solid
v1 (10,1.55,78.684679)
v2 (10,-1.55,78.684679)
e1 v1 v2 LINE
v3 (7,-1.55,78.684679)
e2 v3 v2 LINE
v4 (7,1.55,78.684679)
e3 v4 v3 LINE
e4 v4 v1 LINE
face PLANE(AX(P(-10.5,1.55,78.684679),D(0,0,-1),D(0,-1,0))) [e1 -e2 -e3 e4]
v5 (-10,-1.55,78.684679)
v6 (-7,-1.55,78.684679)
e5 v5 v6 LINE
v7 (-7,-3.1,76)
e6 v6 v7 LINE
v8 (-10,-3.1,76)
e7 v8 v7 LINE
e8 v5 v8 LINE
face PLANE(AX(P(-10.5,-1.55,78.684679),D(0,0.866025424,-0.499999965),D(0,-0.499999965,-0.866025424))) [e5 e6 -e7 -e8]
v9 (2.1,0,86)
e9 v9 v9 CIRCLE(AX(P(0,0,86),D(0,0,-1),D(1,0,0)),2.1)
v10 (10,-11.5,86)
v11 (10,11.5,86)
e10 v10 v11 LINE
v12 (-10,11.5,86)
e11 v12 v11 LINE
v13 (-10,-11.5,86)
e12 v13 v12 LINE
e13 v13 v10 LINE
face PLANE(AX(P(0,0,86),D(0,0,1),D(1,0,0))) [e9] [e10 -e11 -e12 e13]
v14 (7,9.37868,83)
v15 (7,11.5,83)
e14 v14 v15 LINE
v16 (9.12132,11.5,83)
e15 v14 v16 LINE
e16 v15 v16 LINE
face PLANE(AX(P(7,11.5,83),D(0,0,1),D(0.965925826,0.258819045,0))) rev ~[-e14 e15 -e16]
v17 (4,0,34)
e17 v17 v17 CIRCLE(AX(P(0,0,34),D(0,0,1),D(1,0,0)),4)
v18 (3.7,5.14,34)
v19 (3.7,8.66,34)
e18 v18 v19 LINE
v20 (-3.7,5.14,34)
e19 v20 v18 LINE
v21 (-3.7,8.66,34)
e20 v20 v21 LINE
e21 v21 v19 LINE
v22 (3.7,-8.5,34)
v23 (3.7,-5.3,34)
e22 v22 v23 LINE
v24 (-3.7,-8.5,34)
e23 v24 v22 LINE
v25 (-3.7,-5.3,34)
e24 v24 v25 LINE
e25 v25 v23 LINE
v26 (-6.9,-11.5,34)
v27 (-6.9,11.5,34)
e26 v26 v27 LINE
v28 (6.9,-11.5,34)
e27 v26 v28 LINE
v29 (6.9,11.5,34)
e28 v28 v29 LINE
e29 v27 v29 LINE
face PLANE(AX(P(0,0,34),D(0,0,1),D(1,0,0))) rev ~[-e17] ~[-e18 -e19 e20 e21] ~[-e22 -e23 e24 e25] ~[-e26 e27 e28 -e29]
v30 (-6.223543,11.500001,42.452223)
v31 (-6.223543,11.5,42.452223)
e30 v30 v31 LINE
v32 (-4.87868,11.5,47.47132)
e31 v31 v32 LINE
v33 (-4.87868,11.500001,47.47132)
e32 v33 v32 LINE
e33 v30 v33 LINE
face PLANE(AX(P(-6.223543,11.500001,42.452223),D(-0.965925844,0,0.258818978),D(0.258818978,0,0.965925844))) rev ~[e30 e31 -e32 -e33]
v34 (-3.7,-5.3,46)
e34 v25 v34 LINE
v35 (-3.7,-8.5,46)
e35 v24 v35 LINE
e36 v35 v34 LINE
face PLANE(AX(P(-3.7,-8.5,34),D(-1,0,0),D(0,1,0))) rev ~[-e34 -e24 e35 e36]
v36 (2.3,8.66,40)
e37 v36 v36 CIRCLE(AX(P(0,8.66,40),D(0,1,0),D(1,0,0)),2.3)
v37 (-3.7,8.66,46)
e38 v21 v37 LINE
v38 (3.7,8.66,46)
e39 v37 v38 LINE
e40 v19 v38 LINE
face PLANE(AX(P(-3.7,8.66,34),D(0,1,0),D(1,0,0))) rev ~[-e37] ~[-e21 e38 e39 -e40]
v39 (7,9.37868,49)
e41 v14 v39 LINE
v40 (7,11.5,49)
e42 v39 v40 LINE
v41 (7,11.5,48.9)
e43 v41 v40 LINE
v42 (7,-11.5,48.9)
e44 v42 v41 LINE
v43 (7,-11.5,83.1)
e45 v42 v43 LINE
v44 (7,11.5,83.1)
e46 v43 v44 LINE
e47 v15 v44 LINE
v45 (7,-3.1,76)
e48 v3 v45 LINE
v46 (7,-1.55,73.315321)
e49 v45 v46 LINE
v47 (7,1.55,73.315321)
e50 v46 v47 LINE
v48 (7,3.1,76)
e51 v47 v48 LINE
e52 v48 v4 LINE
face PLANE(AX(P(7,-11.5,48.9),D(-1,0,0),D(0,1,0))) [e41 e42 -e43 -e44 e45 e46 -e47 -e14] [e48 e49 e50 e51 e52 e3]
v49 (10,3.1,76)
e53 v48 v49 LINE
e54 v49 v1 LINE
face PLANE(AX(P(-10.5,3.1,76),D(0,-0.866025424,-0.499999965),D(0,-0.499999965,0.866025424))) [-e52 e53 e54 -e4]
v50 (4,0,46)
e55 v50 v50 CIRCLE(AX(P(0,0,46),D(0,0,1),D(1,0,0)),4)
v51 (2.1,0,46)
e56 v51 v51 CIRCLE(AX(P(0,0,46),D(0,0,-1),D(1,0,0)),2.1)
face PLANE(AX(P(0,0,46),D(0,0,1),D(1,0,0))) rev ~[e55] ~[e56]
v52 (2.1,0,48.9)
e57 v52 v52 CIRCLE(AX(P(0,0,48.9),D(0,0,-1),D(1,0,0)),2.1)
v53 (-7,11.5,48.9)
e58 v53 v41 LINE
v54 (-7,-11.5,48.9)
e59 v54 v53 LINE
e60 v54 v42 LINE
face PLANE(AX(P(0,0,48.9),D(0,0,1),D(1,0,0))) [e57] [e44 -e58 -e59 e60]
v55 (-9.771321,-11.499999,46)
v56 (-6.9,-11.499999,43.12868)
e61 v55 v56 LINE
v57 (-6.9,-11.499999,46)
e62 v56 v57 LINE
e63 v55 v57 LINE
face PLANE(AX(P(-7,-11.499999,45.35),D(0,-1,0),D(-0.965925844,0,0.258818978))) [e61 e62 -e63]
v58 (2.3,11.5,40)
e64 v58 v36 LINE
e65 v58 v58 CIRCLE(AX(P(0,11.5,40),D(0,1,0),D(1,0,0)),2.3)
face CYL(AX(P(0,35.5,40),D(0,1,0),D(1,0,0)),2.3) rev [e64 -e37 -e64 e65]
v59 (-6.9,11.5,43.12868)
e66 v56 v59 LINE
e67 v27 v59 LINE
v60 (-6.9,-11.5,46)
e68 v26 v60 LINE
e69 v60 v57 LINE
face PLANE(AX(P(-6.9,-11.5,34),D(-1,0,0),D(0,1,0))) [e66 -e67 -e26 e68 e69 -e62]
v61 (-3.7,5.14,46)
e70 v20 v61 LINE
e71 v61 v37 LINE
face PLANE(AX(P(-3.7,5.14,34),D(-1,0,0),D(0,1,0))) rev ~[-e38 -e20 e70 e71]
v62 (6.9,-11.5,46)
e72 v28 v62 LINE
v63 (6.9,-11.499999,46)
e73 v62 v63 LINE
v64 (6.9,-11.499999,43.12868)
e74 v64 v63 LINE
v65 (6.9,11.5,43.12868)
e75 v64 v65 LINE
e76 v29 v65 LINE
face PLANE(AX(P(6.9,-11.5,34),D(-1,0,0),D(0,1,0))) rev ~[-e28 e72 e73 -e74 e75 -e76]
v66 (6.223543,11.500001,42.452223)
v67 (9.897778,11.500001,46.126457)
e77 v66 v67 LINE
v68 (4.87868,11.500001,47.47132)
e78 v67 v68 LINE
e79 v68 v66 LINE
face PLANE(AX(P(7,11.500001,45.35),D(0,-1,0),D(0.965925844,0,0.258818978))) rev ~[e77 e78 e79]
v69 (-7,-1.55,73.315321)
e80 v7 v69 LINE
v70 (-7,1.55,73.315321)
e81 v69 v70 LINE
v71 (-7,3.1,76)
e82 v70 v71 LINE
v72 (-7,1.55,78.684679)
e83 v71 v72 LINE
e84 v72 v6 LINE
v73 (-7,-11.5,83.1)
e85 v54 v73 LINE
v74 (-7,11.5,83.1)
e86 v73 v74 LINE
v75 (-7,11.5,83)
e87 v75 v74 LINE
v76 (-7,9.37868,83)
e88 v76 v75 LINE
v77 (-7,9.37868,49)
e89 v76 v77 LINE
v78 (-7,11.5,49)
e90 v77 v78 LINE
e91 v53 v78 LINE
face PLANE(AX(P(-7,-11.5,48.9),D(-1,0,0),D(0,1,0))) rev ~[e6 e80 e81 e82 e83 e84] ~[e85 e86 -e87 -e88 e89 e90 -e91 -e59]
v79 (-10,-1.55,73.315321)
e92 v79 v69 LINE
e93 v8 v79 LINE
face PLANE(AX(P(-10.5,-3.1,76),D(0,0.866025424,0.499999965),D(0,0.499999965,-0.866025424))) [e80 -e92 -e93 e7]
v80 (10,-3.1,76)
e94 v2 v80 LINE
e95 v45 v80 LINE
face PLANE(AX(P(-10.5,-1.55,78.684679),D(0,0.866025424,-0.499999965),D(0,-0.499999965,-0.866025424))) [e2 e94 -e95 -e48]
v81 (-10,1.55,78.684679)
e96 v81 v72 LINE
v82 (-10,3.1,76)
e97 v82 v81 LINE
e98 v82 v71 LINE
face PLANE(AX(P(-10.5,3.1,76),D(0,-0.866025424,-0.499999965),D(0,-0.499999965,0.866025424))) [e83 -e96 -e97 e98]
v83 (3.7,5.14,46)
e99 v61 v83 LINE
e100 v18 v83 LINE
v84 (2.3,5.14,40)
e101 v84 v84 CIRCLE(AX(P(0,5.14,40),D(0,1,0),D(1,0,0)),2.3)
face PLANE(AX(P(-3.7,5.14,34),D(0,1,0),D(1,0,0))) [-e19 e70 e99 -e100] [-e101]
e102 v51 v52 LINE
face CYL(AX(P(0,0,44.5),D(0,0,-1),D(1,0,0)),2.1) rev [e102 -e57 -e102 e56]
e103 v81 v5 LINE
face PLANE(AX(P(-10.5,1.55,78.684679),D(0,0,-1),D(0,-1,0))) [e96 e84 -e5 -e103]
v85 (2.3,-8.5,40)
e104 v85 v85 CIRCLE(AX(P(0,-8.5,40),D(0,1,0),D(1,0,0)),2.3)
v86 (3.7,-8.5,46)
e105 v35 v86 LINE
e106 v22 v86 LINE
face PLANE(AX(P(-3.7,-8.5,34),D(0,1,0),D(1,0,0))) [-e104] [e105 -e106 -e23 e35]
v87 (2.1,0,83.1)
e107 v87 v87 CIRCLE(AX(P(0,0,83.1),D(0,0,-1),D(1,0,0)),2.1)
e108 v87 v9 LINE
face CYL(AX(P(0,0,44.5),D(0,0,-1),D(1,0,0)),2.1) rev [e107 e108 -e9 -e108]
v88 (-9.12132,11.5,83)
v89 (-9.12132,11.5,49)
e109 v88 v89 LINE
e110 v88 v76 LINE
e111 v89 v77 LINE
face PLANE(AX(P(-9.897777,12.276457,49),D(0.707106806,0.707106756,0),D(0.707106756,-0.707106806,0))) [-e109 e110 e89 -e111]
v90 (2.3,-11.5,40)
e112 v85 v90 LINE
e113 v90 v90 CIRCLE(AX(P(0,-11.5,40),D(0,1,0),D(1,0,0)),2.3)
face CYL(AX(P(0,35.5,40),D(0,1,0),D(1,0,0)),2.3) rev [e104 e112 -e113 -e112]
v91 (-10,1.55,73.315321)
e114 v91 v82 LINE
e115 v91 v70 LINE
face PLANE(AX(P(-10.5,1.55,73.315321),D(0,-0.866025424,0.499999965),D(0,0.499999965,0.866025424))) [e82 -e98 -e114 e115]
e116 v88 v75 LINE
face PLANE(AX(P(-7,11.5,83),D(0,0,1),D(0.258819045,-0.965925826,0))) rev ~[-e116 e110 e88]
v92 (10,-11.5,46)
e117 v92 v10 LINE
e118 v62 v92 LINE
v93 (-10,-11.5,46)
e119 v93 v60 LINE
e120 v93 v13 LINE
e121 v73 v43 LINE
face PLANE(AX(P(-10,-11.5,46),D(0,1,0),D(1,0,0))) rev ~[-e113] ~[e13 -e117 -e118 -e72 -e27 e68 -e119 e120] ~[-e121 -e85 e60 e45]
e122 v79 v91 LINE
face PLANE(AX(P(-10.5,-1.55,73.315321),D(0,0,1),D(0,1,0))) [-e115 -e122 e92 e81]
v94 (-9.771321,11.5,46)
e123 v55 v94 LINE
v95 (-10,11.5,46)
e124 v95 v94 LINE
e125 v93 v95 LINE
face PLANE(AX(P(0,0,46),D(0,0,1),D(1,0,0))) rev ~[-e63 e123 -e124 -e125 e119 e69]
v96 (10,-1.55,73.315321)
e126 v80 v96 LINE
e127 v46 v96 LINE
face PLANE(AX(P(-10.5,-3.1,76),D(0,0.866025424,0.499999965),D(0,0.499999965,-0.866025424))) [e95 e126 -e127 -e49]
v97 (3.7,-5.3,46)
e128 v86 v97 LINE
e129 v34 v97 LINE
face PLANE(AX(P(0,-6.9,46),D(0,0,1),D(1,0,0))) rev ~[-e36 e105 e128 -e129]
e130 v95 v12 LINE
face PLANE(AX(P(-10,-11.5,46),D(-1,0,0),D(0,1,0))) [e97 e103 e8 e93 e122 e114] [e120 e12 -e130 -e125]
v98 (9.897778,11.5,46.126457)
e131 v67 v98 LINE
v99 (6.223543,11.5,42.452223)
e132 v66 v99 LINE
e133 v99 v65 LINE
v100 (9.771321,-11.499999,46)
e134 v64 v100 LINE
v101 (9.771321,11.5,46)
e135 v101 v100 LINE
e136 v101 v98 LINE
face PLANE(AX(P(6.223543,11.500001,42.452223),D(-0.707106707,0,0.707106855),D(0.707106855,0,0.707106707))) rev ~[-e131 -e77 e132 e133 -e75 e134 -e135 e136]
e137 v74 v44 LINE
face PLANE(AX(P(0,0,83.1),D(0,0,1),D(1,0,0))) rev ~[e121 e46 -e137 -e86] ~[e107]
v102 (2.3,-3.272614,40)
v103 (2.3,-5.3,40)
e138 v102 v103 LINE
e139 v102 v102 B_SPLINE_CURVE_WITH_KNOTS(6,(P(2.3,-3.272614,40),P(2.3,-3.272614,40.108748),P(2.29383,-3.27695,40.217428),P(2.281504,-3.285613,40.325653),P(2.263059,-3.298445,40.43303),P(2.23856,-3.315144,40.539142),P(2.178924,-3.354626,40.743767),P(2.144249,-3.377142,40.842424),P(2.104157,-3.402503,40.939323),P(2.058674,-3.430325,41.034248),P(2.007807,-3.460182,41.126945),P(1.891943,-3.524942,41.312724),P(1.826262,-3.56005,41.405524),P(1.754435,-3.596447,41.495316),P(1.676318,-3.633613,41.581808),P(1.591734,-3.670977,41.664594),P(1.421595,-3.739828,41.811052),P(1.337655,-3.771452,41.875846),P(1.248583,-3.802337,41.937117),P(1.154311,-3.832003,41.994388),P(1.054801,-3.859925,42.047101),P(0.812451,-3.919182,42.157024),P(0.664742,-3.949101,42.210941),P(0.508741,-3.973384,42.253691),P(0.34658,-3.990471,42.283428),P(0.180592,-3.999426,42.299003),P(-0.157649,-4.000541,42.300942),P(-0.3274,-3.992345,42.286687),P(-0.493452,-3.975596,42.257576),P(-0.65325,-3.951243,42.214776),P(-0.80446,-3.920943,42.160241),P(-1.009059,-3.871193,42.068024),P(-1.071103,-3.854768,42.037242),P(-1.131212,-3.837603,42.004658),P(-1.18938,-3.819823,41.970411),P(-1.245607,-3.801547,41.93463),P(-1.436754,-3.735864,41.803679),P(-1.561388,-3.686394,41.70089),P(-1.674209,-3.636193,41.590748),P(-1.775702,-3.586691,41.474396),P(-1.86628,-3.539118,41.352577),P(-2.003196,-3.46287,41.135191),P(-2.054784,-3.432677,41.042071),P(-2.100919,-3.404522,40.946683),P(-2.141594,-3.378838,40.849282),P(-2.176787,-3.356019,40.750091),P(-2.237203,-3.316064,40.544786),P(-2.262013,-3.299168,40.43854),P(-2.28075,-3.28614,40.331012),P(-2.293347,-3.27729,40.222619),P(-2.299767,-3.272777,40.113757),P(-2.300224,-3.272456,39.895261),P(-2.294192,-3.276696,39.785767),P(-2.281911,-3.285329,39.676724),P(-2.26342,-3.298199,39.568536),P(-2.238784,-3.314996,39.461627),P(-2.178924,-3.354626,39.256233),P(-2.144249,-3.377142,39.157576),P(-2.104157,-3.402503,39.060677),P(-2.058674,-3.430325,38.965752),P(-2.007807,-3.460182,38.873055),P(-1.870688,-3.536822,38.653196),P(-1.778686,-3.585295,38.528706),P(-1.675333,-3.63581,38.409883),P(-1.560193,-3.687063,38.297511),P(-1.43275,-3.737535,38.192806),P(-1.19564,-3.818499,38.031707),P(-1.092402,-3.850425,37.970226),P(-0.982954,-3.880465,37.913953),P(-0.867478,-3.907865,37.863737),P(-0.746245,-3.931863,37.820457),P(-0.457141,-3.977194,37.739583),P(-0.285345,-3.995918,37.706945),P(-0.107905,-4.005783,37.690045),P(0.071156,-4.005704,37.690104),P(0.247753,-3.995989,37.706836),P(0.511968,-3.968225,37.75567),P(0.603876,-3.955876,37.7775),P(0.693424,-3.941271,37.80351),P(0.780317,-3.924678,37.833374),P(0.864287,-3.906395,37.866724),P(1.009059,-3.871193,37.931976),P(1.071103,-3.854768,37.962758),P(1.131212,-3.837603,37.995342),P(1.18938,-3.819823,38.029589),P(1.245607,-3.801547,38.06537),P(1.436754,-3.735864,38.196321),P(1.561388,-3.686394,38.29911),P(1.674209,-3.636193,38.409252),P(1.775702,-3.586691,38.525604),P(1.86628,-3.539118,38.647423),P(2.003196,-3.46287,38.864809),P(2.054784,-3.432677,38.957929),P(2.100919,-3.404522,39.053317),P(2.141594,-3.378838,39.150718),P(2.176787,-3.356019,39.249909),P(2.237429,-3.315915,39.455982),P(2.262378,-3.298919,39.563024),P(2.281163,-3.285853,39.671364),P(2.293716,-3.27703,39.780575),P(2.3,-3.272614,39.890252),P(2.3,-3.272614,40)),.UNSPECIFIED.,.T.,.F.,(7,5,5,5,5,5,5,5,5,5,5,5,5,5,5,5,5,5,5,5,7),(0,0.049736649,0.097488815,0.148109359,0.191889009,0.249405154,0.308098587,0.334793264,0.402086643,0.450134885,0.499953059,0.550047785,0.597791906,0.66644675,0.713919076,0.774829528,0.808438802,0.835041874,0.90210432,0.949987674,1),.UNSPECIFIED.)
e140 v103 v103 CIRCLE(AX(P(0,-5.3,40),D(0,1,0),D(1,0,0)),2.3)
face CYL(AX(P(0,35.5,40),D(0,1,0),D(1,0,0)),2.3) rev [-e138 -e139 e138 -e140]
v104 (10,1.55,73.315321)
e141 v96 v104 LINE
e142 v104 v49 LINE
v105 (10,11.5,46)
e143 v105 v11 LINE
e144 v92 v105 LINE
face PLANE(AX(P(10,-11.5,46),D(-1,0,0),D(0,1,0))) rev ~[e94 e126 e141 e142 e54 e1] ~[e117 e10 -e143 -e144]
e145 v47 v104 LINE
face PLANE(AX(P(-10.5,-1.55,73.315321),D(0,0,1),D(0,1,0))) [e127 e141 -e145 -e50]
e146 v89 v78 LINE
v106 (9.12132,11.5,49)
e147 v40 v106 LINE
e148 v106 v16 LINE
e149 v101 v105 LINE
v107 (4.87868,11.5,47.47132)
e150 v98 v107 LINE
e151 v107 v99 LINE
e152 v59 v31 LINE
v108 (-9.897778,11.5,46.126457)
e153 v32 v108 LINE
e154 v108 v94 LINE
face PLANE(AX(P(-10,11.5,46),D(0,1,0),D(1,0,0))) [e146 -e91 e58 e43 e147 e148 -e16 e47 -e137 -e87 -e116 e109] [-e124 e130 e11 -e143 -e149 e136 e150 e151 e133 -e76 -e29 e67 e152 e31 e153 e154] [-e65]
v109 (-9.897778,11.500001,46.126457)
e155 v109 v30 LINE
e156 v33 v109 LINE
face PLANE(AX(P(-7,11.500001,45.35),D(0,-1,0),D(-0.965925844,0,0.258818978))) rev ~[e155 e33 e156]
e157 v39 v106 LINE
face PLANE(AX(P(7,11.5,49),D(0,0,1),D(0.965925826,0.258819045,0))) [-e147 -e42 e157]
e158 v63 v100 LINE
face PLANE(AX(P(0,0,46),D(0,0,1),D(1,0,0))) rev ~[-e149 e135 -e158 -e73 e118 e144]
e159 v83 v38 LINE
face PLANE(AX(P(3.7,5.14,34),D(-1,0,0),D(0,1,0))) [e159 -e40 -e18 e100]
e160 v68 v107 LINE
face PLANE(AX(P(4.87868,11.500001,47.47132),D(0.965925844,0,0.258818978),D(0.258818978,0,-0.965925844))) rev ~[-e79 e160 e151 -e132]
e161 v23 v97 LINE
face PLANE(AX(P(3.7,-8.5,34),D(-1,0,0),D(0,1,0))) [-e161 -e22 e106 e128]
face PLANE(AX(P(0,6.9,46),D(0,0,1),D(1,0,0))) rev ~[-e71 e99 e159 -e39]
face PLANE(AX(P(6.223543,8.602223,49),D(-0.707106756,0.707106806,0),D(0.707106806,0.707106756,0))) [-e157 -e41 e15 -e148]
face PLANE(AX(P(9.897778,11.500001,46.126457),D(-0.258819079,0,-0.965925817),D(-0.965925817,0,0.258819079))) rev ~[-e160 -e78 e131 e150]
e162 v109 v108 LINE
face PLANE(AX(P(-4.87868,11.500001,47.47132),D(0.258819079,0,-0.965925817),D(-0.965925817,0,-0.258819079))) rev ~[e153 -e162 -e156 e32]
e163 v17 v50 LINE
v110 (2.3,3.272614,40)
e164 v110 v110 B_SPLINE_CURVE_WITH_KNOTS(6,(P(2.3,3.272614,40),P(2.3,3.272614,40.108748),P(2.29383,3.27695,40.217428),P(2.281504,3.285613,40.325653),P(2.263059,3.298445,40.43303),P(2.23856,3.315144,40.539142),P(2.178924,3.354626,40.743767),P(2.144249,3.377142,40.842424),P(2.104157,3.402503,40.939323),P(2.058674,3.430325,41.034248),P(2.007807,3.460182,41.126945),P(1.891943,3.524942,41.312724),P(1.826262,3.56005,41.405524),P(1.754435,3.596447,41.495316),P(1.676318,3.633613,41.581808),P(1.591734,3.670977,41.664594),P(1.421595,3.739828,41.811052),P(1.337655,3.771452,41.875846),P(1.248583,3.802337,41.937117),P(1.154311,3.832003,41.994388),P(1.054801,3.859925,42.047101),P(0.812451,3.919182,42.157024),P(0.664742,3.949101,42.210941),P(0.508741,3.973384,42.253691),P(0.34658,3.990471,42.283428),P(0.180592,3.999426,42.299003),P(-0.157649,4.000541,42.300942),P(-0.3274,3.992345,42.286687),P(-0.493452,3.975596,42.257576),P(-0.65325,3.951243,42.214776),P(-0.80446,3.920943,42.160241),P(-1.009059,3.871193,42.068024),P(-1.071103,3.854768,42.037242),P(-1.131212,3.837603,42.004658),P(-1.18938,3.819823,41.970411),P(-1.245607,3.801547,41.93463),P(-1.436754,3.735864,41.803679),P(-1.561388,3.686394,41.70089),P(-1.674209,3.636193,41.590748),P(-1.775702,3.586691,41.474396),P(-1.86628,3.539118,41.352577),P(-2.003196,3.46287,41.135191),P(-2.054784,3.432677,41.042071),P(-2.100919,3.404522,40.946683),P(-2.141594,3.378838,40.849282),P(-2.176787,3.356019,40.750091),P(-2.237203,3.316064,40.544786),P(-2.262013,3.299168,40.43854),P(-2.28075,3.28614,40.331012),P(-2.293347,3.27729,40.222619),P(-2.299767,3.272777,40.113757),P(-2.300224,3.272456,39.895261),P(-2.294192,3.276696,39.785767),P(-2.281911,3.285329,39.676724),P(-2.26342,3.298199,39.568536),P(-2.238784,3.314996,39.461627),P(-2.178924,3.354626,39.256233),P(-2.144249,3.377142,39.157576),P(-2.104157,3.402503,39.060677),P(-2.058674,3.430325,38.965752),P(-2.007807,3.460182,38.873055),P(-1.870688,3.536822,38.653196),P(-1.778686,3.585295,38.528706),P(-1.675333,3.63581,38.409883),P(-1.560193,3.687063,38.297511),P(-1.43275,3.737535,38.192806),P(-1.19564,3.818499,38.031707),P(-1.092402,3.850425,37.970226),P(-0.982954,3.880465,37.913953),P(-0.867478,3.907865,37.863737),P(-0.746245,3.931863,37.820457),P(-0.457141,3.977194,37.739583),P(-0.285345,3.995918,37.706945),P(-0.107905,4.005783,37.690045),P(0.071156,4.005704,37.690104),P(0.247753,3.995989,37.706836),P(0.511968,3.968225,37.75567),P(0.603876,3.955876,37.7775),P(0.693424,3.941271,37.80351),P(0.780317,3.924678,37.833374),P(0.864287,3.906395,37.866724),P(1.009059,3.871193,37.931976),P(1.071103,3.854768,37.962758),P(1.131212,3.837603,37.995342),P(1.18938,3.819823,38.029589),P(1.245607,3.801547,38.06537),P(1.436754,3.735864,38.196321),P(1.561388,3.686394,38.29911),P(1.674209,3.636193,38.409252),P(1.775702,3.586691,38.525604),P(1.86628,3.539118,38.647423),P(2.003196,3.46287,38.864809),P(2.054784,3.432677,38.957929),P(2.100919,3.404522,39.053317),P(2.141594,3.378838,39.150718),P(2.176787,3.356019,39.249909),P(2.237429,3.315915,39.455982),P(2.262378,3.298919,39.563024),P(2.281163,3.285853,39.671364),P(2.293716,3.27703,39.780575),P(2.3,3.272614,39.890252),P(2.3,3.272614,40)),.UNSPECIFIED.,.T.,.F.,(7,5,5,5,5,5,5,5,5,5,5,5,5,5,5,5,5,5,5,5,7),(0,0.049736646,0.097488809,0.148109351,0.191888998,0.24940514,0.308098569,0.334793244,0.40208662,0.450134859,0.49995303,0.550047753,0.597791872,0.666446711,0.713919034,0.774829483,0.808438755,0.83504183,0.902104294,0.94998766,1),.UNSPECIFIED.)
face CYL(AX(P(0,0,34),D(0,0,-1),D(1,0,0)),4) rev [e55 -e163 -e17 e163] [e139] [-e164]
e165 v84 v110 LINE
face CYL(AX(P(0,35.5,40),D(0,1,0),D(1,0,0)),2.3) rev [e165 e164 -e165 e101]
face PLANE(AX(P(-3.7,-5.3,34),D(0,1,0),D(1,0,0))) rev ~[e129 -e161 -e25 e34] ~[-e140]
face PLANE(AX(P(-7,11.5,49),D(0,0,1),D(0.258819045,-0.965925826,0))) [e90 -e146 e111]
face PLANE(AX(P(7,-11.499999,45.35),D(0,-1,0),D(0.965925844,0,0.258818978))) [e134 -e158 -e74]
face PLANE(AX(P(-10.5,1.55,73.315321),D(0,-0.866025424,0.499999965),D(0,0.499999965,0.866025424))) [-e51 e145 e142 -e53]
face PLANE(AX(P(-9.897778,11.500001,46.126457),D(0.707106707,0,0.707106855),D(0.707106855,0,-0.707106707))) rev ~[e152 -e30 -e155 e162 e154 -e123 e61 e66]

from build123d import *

# Parameters (mm, degrees)
CYLINDER010_R            = 2.1
CYLINDER010_DEPTH        = 43
CYLINDER011_R            = 4
CYLINDER011_DEPTH        = 12
CYLINDER012_R            = 2.3
CYLINDER012_DEPTH        = 71
CUBE018_W                = 7.4
CUBE018_H                = 3.2
CUBE018_DEPTH            = 12
CUBE019_W                = 7.4
CUBE019_H                = 3.52
CUBE019_DEPTH            = 12
PRISM011_DEPTH           = 34
PRISM011_PLACEMENT_ANGLE = 15
PRISM012_DEPTH           = 34
PRISM012_PLACEMENT_ANGLE = 75
PRISM013_DEPTH           = 21
CUBE017_W                = 14
CUBE017_H                = 23
CUBE017_DEPTH            = 34.2
CUBE016_W                = 13.8
CUBE016_H                = 23
CUBE016_DEPTH            = 12
PRISM009_DEPTH           = 23
PRISM009_ROLL_ANGLE      = 90
PRISM009_PITCH_ANGLE     = -14.999996
PRISM010_DEPTH           = 23
PRISM010_ROLL_ANGLE      = -90
PRISM010_PITCH_ANGLE     = -14.999996
PRISM010_PLACEMENT_ANGLE = -180
CUBE015_W                = 20
CUBE015_H                = 23
CUBE015_DEPTH            = 40


with BuildPart() as cylinder010:
    # cylinder010 → cylinder010 (new body)
    with BuildSketch(Plane.XY.offset(44.5)):
        Circle(CYLINDER010_R)
    extrude(amount=CYLINDER010_DEPTH)


with BuildPart() as cylinder011:
    # cylinder011 → cylinder011 (new body)
    with BuildSketch(Plane.XY.offset(34)):
        Circle(CYLINDER011_R)
    extrude(amount=CYLINDER011_DEPTH)


with BuildPart() as cylinder012:
    # cylinder012 → cylinder012 (new body)
    with BuildSketch(Plane(origin=(0, 35.5, 40), x_dir=(1, 0, 0), z_dir=(0, -1, 0))):
        Circle(CYLINDER012_R)
    extrude(amount=CYLINDER012_DEPTH)


with BuildPart() as cube018:
    # cube018 → cube018 (new body)
    with BuildSketch(Plane(origin=(-3.7, -8.5, 34), x_dir=(1, 0, 0), z_dir=(0, 0, 1))):
        with Locations((3.7, 1.6)):
            Rectangle(CUBE018_W, CUBE018_H)
    extrude(amount=CUBE018_DEPTH)


with BuildPart() as cube019:
    # cube019 → cube019 (new body)
    with BuildSketch(Plane(origin=(-3.7, 5.14, 34), x_dir=(1, 0, 0), z_dir=(0, 0, 1))):
        with Locations((3.7, 1.76)):
            Rectangle(CUBE019_W, CUBE019_H)
    extrude(amount=CUBE019_DEPTH)


with BuildPart() as prism011:
    # prism011 → prism011 (new body)
    with BuildSketch(Plane.XY):
        Polygon((3, 0), (-1.5, 2.598076), (-1.5, -2.598076), align=None)
    extrude(amount=PRISM011_DEPTH)


with BuildPart() as prism011_1:
    # prism011 placement: moved
    add(prism011.part.moved(Location((7, 11.5, 49))).rotate(Axis((7, 11.5, 49), (0, 0, 1)), PRISM011_PLACEMENT_ANGLE))


with BuildPart() as prism012:
    # prism012 → prism012 (new body)
    with BuildSketch(Plane.XY):
        Polygon((3, 0), (-1.5, 2.598076), (-1.5, -2.598076), align=None)
    extrude(amount=PRISM012_DEPTH)


with BuildPart() as prism012_1:
    # prism012 placement: moved
    add(prism012.part.moved(Location((-7, 11.5, 49))).rotate(Axis((-7, 11.5, 49), (0, 0, -1)), PRISM012_PLACEMENT_ANGLE))


with BuildPart() as prism013:
    # prism013 → prism013 (new body)
    with BuildSketch(Plane(origin=(-10.5, 0, 76), x_dir=(0, 1, 0), z_dir=(1, 0, 0))):
        Polygon((3.1, 0), (1.55, 2.684679), (-1.55, 2.684679), (-3.1, 0), (-1.55, -2.684679), (1.55, -2.684679), align=None)
    extrude(amount=PRISM013_DEPTH)


with BuildPart() as group007:
    # cube017 → cube017 (new body)
    with BuildSketch(Plane(origin=(-7, -11.5, 48.9), x_dir=(1, 0, 0), z_dir=(0, 0, 1))):
        with Locations((7, 11.5)):
            Rectangle(CUBE017_W, CUBE017_H)
    extrude(amount=CUBE017_DEPTH)

    # Group007: union cylinder010, cylinder011, cylinder012, cube018, cube019, prism011, prism012, prism013
    add(cylinder010.part)
    add(cylinder011.part)
    add(cylinder012.part)
    add(cube018.part)
    add(cube019.part)
    add(prism011_1.part)
    add(prism012_1.part)
    add(prism013.part)


with BuildPart() as cube016:
    # cube016 → cube016 (new body)
    with BuildSketch(Plane(origin=(-6.9, -11.5, 34), x_dir=(1, 0, 0), z_dir=(0, 0, 1))):
        with Locations((6.9, 11.5)):
            Rectangle(CUBE016_W, CUBE016_H)
    extrude(amount=CUBE016_DEPTH)


with BuildPart() as prism009:
    # prism009 → prism009 (new body)
    with BuildSketch(Plane.XY):
        Polygon((3, 0), (-1.5, 2.598076), (-1.5, -2.598076), align=None)
    extrude(amount=PRISM009_DEPTH)


with BuildPart() as prism009_1:
    # prism009 roll: moved
    add(prism009.part.rotate(Axis((0, 0, 0), (1, 0, 0)), PRISM009_ROLL_ANGLE))


with BuildPart() as prism009_2:
    # prism009 pitch: moved
    add(prism009_1.part.rotate(Axis((0, 0, 0), (0, 1, 0)), PRISM009_PITCH_ANGLE))


with BuildPart() as prism009_3:
    # prism009 placement: moved
    add(prism009_2.part.moved(Location((7, 11.500001, 45.35))))


with BuildPart() as prism010:
    # prism010 → prism010 (new body)
    with BuildSketch(Plane.XY):
        Polygon((3, 0), (-1.5, 2.598076), (-1.5, -2.598076), align=None)
    extrude(amount=PRISM010_DEPTH)


with BuildPart() as prism010_1:
    # prism010 roll: moved
    add(prism010.part.rotate(Axis((0, 0, 0), (1, 0, 0)), PRISM010_ROLL_ANGLE))


with BuildPart() as prism010_2:
    # prism010 pitch: moved
    add(prism010_1.part.rotate(Axis((0, 0, 0), (0, 1, 0)), PRISM010_PITCH_ANGLE))


with BuildPart() as prism010_3:
    # prism010 placement: moved
    add(prism010_2.part.moved(Location((-7, 11.500001, 45.35))).rotate(Axis((-7, 11.500001, 45.35), (0, 0, 1)), PRISM010_PLACEMENT_ANGLE))


with BuildPart() as side_slider:
    # cube015 → cube015 (new body)
    with BuildSketch(Plane(origin=(-10, -11.5, 46), x_dir=(1, 0, 0), z_dir=(0, 0, 1))):
        with Locations((10, 11.5)):
            Rectangle(CUBE015_W, CUBE015_H)
    extrude(amount=CUBE015_DEPTH)

    # Group006: union cube016, prism009, prism010
    add(cube016.part)
    add(prism009_3.part)
    add(prism010_3.part)

    # difference004: cut Group007
    add(group007.part, mode=Mode.SUBTRACT)


solid = side_slider.part
